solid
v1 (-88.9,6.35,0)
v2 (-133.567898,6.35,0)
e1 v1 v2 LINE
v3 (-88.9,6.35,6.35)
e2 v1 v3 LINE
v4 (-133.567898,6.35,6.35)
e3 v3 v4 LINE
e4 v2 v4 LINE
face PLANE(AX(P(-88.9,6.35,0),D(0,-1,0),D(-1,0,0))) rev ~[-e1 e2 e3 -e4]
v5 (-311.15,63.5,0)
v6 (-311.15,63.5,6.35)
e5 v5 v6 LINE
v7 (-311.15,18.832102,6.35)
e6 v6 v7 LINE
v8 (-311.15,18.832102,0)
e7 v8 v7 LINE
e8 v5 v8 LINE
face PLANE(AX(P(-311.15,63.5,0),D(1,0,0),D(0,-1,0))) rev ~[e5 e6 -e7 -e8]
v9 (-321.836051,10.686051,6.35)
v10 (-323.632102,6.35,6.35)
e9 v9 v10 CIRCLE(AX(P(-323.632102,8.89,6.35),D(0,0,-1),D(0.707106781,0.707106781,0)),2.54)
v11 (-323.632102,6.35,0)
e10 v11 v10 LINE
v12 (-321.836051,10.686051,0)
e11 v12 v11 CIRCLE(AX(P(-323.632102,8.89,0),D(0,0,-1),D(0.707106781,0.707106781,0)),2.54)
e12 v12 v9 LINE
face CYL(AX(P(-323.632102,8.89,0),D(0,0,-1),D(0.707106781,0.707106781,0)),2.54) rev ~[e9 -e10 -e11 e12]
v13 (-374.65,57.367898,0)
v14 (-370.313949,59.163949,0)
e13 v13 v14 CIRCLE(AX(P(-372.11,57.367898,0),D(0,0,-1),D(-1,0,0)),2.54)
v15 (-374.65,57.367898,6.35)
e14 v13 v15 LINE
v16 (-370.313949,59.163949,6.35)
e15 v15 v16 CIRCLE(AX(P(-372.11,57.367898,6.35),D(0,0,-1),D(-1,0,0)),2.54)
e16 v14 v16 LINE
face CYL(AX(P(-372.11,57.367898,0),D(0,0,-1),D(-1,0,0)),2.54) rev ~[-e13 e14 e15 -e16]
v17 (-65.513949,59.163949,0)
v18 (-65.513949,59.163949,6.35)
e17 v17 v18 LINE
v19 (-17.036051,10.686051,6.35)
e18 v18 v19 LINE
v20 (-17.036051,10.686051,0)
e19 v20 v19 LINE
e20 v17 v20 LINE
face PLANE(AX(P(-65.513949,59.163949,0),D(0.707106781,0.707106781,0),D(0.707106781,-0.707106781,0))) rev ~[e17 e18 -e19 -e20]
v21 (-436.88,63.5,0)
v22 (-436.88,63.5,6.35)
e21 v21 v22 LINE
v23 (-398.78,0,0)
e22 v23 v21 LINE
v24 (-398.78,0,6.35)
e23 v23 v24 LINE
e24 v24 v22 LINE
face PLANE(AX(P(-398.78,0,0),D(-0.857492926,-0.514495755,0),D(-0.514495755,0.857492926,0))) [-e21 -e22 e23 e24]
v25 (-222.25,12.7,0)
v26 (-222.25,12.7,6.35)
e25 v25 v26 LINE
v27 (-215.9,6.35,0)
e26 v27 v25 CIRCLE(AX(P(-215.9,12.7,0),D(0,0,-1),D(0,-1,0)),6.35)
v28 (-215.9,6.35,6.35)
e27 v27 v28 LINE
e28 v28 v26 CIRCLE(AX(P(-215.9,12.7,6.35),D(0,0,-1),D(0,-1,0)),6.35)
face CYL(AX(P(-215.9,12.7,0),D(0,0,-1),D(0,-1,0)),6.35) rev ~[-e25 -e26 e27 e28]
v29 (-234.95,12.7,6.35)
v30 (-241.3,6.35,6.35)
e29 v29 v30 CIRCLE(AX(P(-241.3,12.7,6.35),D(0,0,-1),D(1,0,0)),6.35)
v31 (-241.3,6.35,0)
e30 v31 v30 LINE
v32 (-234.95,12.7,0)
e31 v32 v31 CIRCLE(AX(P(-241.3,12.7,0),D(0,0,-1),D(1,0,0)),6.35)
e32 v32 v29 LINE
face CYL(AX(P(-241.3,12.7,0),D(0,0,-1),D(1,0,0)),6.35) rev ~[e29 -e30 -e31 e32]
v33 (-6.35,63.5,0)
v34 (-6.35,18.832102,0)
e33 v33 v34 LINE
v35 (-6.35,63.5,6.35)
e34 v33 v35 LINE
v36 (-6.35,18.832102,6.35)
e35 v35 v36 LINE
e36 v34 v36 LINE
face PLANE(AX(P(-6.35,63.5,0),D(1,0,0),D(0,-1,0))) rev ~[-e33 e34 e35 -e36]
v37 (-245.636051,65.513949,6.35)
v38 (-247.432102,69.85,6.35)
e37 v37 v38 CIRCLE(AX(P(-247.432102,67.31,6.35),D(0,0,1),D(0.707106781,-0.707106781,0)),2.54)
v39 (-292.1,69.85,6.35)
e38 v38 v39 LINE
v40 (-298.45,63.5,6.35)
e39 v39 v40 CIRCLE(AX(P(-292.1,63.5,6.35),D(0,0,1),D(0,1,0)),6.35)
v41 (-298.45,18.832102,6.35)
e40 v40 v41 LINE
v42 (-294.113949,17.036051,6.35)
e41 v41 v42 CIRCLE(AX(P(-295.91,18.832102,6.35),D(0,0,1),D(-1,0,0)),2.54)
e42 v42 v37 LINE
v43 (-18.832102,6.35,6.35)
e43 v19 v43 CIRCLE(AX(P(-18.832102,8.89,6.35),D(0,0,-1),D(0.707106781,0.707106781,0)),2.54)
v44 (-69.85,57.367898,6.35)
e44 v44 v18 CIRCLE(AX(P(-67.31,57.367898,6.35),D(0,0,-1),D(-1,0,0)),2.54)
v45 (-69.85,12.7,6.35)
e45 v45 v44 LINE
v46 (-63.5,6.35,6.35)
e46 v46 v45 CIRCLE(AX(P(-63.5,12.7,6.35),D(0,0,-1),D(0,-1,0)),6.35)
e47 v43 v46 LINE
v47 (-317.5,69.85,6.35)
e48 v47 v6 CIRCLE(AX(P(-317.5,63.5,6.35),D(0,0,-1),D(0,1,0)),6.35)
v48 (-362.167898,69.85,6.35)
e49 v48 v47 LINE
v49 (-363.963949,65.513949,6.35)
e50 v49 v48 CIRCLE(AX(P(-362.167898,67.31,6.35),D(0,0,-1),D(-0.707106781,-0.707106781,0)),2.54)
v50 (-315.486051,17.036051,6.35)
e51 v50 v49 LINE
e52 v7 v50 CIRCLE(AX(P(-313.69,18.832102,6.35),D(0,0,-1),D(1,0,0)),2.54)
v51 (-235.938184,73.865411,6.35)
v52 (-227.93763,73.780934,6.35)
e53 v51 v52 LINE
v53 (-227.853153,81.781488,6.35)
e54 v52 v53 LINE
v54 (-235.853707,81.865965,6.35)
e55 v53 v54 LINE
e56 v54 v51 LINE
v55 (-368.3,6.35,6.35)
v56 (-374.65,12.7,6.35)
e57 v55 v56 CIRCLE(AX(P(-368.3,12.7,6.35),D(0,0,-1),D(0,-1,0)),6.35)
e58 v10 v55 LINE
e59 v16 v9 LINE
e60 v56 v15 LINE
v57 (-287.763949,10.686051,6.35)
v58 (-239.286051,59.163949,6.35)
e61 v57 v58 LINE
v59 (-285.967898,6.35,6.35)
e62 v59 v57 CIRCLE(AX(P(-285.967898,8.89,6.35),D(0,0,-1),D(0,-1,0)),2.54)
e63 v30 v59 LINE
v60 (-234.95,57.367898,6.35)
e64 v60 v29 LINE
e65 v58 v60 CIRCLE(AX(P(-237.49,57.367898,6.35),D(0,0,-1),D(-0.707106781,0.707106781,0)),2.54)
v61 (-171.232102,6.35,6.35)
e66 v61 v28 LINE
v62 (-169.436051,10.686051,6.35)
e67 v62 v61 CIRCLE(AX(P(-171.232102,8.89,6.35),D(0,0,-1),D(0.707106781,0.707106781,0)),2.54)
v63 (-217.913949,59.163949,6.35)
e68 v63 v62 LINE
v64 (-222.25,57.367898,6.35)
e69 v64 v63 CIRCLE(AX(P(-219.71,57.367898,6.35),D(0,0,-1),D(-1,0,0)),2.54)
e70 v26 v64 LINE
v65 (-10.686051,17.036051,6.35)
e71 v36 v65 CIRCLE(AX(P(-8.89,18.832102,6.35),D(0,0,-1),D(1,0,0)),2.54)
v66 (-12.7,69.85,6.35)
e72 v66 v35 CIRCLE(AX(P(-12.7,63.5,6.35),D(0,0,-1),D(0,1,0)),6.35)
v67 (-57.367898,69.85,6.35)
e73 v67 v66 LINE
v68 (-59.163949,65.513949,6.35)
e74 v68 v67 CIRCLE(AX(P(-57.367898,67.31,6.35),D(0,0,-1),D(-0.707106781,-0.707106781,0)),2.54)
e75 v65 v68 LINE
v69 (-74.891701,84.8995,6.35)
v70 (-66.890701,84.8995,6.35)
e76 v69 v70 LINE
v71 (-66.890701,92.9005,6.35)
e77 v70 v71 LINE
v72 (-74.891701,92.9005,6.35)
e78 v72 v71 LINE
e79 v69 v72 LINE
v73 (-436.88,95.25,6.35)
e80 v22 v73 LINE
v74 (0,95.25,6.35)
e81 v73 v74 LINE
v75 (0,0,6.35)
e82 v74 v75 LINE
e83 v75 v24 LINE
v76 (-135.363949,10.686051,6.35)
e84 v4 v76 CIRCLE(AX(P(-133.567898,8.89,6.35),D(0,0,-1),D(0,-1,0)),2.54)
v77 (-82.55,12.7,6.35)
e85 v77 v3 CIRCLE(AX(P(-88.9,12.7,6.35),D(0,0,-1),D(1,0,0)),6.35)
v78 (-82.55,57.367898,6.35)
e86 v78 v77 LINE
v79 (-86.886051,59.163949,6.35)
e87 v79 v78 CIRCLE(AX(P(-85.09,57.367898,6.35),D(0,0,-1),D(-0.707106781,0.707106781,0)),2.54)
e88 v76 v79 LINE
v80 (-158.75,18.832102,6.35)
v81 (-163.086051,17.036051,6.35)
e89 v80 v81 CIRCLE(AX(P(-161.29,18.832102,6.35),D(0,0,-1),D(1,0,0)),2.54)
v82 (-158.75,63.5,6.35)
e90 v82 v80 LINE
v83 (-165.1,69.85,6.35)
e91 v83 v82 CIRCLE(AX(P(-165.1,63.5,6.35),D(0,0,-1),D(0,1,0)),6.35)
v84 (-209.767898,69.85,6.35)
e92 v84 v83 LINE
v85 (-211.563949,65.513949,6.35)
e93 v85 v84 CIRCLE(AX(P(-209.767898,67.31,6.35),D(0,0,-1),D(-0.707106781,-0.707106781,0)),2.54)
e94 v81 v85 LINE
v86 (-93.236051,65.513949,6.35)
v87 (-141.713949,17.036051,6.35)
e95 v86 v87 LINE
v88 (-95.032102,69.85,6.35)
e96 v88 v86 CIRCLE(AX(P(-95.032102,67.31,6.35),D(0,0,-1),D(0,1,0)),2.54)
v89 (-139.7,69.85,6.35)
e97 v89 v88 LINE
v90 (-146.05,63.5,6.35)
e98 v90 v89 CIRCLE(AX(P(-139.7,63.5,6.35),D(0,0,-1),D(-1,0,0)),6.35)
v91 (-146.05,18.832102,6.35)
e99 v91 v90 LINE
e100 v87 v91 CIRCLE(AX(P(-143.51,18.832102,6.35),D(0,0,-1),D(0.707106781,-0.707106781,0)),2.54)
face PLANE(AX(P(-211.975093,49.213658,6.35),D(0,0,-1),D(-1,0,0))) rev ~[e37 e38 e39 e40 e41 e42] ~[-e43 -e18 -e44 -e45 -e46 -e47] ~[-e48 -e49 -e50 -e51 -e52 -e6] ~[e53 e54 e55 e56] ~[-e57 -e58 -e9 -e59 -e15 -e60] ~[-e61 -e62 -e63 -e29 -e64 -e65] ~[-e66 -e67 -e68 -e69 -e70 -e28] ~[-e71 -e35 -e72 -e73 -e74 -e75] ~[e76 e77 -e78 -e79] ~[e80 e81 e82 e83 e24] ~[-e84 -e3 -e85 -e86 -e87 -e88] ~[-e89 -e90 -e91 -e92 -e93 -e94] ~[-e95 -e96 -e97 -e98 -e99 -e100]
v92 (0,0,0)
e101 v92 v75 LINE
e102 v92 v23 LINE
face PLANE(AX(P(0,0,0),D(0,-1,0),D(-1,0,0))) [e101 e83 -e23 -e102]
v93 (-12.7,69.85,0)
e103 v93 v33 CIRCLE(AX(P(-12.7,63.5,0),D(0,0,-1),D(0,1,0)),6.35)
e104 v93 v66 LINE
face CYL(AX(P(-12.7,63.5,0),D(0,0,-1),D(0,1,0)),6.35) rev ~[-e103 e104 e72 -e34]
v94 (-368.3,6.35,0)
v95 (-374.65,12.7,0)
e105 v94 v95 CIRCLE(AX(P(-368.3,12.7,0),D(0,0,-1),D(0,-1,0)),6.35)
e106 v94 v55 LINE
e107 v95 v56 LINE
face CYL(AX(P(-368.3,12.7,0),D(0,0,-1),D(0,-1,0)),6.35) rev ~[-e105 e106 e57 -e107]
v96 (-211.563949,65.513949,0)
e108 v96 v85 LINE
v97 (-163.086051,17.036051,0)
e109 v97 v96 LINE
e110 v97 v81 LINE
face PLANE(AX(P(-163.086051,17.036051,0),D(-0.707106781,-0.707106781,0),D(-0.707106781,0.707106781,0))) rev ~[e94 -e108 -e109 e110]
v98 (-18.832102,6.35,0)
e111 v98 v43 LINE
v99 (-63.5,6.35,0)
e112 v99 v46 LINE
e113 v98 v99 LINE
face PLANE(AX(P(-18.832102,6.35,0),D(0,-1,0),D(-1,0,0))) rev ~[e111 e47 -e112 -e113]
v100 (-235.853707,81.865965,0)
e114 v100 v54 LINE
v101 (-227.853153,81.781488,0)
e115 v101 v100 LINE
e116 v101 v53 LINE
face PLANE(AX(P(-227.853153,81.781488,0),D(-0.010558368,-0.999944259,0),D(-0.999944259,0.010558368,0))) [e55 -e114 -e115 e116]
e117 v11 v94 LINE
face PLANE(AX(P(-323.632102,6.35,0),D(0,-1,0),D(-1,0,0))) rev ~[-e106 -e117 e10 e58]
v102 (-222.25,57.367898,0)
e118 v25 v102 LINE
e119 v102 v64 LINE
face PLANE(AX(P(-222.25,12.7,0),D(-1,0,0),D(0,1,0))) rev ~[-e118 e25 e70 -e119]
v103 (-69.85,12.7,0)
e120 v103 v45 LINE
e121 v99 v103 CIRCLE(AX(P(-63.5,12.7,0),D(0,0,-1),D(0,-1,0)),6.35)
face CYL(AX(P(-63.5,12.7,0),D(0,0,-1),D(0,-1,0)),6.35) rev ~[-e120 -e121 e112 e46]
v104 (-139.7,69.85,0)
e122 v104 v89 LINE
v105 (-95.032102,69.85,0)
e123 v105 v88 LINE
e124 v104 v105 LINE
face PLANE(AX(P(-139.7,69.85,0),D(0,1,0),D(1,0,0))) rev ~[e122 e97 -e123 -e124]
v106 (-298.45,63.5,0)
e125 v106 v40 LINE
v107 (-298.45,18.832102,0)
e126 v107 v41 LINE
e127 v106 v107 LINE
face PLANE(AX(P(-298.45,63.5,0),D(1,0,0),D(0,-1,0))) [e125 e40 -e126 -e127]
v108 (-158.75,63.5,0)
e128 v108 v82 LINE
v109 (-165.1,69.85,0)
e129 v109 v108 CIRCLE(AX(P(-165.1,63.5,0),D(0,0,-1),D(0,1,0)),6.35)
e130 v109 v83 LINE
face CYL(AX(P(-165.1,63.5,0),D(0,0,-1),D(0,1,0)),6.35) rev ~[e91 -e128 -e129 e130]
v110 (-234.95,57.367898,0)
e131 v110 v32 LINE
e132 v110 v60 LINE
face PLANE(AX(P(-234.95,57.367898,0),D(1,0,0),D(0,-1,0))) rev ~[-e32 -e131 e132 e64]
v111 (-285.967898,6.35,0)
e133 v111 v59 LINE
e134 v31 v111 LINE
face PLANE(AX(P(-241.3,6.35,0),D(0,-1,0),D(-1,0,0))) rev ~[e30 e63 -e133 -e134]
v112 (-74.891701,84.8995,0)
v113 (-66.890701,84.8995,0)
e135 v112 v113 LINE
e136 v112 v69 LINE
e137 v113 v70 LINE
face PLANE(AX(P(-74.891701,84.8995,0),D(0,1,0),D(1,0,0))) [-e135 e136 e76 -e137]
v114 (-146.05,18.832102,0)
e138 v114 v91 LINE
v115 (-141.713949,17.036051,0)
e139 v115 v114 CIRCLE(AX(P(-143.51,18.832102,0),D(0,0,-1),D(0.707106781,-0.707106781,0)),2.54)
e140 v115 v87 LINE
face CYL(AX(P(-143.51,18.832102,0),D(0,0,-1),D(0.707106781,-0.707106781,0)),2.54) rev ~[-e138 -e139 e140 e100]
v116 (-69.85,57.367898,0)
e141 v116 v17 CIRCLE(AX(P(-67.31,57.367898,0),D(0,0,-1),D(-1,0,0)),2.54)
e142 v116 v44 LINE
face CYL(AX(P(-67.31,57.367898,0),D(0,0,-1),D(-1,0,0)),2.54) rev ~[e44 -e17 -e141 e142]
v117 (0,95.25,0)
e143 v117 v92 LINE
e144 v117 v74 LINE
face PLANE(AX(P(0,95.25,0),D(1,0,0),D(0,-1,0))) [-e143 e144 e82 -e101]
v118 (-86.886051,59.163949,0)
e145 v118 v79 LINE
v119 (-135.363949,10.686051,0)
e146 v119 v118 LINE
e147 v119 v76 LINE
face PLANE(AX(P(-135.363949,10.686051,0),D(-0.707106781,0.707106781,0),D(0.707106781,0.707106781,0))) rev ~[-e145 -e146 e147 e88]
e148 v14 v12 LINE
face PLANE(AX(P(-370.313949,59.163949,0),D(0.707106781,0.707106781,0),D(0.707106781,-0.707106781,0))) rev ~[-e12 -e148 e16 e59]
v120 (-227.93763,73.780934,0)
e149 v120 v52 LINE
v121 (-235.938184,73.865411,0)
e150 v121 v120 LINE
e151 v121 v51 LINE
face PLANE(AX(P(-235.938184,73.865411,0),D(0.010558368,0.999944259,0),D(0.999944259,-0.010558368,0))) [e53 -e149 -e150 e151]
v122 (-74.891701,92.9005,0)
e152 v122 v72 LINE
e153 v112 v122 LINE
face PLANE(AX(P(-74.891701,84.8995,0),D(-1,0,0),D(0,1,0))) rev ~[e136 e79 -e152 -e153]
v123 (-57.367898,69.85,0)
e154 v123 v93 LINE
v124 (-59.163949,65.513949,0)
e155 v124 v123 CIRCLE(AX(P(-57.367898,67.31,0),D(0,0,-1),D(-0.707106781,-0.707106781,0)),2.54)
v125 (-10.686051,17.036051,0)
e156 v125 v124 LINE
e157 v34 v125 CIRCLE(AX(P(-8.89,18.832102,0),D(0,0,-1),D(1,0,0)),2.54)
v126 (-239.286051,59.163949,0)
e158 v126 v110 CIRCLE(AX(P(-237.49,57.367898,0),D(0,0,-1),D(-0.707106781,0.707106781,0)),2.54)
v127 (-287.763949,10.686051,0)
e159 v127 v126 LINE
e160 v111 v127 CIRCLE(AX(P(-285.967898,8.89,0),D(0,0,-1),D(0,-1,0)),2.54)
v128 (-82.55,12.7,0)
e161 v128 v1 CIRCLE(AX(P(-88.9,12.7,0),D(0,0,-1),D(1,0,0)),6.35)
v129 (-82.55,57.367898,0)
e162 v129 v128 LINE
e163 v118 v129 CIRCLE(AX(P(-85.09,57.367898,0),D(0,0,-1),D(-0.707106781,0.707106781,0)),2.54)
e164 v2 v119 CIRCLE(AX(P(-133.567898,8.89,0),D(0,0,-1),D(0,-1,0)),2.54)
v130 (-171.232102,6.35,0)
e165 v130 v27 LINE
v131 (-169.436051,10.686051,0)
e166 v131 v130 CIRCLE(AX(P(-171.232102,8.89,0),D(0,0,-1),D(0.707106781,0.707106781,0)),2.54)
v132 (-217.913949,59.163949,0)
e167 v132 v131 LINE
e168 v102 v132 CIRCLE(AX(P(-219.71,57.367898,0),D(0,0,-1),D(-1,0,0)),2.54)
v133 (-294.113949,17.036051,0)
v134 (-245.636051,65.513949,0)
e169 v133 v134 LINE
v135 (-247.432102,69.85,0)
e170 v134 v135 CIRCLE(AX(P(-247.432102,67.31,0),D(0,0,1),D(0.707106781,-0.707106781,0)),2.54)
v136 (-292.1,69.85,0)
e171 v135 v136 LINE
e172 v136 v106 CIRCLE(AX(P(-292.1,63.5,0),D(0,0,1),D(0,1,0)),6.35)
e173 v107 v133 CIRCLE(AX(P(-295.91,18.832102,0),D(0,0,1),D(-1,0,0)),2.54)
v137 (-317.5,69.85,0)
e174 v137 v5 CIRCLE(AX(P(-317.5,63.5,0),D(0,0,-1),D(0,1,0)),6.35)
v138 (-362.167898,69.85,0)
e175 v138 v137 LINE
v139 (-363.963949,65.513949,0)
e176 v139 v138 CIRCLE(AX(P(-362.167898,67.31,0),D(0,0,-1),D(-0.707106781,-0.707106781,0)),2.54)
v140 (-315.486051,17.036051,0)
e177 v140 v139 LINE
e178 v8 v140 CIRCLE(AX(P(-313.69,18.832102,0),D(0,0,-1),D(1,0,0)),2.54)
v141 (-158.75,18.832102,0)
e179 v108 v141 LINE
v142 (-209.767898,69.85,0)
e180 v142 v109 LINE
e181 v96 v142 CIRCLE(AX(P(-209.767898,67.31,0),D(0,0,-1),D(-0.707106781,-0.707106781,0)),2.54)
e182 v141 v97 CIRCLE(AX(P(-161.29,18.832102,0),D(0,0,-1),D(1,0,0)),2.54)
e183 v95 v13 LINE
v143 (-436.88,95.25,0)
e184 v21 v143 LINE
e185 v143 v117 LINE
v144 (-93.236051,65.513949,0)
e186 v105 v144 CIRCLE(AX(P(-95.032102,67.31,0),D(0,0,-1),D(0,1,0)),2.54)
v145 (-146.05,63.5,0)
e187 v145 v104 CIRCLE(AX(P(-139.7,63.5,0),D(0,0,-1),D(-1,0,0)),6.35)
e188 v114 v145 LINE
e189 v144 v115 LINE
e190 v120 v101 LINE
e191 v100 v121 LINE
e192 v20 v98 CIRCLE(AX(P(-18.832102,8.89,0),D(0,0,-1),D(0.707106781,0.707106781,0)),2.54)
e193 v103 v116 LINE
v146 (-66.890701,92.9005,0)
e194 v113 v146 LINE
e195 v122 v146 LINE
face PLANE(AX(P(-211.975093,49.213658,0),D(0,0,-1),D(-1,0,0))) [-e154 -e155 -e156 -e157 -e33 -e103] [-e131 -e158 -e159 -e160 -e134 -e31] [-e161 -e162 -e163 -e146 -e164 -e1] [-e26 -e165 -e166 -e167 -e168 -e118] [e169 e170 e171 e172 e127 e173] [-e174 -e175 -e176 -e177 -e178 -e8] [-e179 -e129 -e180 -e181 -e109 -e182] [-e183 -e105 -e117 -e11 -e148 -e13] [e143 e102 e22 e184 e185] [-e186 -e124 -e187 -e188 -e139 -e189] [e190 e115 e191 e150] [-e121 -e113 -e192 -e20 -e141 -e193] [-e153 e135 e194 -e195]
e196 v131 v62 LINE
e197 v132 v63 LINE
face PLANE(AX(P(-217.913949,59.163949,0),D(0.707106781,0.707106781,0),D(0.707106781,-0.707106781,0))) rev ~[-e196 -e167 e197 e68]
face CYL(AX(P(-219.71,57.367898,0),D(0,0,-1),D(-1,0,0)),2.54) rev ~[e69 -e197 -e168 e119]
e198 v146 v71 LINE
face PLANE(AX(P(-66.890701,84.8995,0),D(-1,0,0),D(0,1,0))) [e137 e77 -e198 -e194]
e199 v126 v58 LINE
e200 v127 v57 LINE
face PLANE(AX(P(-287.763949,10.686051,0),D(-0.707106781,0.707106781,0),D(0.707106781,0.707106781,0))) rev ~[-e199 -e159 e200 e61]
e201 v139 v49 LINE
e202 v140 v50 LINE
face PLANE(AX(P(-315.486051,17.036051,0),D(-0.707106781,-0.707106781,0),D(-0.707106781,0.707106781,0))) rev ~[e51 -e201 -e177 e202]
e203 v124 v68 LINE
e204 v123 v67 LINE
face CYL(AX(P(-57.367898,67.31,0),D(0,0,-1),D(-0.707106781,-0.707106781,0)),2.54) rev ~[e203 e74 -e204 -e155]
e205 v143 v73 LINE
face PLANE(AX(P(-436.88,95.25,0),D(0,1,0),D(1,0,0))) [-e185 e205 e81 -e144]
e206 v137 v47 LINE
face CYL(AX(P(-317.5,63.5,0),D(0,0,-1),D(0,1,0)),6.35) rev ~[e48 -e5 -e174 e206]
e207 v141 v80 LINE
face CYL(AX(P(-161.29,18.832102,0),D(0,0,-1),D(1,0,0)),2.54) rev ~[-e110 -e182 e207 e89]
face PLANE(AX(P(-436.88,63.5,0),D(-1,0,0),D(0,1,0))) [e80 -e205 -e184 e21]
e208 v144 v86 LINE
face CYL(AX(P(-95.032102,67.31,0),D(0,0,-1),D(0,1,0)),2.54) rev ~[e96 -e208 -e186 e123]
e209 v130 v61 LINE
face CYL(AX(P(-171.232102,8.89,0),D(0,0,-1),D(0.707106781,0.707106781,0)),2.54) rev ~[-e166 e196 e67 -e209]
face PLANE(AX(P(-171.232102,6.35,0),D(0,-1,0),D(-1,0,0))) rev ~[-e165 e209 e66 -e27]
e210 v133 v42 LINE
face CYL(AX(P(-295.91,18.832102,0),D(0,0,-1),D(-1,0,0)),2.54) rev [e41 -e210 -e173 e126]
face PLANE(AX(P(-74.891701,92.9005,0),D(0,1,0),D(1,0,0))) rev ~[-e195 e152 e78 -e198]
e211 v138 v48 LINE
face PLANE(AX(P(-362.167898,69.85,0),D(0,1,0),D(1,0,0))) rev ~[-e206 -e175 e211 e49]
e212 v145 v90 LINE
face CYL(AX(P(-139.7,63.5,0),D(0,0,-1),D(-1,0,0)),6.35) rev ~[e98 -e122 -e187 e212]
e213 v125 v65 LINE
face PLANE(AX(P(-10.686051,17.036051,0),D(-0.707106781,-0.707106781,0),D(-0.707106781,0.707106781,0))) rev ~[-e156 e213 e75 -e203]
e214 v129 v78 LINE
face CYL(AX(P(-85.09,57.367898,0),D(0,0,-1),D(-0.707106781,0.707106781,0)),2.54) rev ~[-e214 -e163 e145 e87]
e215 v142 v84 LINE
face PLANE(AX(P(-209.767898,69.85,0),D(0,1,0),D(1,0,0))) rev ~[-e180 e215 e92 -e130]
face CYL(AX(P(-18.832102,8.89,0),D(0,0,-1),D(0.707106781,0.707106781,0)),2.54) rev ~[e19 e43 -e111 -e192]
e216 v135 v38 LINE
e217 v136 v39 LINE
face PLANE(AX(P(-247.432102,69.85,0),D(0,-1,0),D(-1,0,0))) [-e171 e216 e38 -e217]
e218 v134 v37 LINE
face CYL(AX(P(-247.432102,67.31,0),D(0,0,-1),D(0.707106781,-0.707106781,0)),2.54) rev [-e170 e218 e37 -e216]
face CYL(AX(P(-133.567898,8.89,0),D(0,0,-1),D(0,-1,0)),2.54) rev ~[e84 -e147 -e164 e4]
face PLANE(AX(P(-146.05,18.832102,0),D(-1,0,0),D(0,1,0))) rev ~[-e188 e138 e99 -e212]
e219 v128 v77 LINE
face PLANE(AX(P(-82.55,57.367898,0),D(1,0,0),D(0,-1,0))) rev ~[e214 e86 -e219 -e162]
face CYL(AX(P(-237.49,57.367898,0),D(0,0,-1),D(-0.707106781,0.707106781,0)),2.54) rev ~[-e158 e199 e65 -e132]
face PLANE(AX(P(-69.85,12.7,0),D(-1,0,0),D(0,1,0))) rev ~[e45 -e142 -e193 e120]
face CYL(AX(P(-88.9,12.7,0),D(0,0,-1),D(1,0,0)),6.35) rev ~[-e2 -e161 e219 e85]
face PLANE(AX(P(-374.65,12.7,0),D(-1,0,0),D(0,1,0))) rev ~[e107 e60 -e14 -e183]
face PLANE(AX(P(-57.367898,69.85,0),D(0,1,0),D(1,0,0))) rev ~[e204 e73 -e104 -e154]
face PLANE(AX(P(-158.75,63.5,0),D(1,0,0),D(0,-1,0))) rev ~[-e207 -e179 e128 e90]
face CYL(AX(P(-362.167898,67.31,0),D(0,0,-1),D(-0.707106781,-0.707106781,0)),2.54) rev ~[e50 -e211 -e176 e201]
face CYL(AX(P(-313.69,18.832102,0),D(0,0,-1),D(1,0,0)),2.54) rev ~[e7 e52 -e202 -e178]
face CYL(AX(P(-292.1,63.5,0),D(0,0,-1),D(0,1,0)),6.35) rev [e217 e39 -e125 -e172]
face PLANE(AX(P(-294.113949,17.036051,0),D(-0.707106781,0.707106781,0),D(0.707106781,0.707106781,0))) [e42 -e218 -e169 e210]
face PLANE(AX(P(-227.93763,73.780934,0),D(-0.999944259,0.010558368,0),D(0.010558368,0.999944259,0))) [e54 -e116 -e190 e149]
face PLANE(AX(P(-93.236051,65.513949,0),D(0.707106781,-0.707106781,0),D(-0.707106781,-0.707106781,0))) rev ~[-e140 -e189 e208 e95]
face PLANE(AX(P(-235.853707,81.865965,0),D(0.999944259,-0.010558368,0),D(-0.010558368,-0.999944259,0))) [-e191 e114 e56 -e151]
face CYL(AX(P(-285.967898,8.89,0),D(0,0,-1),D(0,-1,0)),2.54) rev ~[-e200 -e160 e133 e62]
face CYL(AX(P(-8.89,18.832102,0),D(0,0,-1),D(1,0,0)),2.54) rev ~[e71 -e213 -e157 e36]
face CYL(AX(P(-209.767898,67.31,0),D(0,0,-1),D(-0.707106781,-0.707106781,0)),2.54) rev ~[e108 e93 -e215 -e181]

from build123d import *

# Parameters (mm, degrees)
MODEL_W             = 8.001
MODEL_H             = 8.001
BOSS_EXTRUDE1_DEPTH = 6.35


with BuildPart() as part:
    # Model → Boss-Extrude1 (new body)
    with BuildSketch(Plane.XY):
        Polygon((-398.78, 0), (-436.88, 63.5), (-436.88, 95.25), (0, 95.25), (0, 0), align=None)
        with Locations((-70.891200524, 88.9)):
            Rectangle(MODEL_W, MODEL_H, mode=Mode.SUBTRACT)
        Polygon((-235.938184475, 73.86541105), (-227.937630461, 73.78093355), (-227.853152962, 81.781487564), (-235.853706976, 81.865965064), align=None, mode=Mode.SUBTRACT)
        with BuildLine():
            Line((-171.232102448, 6.35), (-215.9, 6.35))
            ThreePointArc((-215.9, 6.35), (-220.390128061, 8.209871939), (-222.25, 12.7))
            Line((-222.25, 12.7), (-222.25, 57.367897552))
            ThreePointArc((-222.25, 57.367897552), (-220.682015918, 59.714551564), (-217.913948776, 59.163948776))
            Line((-217.913948776, 59.163948776), (-169.436051224, 10.686051224))
            ThreePointArc((-169.436051224, 10.686051224), (-168.885448436, 7.917984082), (-171.232102448, 6.35))
        make_face(mode=Mode.SUBTRACT)
        with BuildLine():
            Line((-234.95, 57.367897552), (-234.95, 12.7))
            ThreePointArc((-234.95, 12.7), (-236.809871939, 8.209871939), (-241.3, 6.35))
            Line((-241.3, 6.35), (-285.967897552, 6.35))
            ThreePointArc((-285.967897552, 6.35), (-288.314551564, 7.917984082), (-287.763948776, 10.686051224))
            Line((-287.763948776, 10.686051224), (-239.286051224, 59.163948776))
            ThreePointArc((-239.286051224, 59.163948776), (-236.517984082, 59.714551564), (-234.95, 57.367897552))
        make_face(mode=Mode.SUBTRACT)
        with BuildLine():
            Line((-294.113948776, 17.036051224), (-245.636051224, 65.513948776))
            ThreePointArc((-245.636051224, 65.513948776), (-245.085448436, 68.282015918), (-247.432102448, 69.85))
            Line((-247.432102448, 69.85), (-292.1, 69.85))
            ThreePointArc((-292.1, 69.85), (-296.590128061, 67.990128061), (-298.45, 63.5))
            Line((-298.45, 63.5), (-298.45, 18.832102448))
            ThreePointArc((-298.45, 18.832102448), (-296.882015918, 16.485448436), (-294.113948776, 17.036051224))
        make_face(mode=Mode.SUBTRACT)
        with BuildLine():
            Line((-323.632102448, 6.35), (-368.3, 6.35))
            ThreePointArc((-368.3, 6.35), (-372.790128061, 8.209871939), (-374.65, 12.7))
            Line((-374.65, 12.7), (-374.65, 57.367897552))
            ThreePointArc((-374.65, 57.367897552), (-373.082015918, 59.714551564), (-370.313948776, 59.163948776))
            Line((-370.313948776, 59.163948776), (-321.836051224, 10.686051224))
            ThreePointArc((-321.836051224, 10.686051224), (-321.285448436, 7.917984082), (-323.632102448, 6.35))
        make_face(mode=Mode.SUBTRACT)
        with BuildLine():
            Line((-18.832102448, 6.35), (-63.5, 6.35))
            ThreePointArc((-63.5, 6.35), (-67.990128061, 8.209871939), (-69.85, 12.7))
            Line((-69.85, 12.7), (-69.85, 57.367897552))
            ThreePointArc((-69.85, 57.367897552), (-68.282015918, 59.714551564), (-65.513948776, 59.163948776))
            Line((-65.513948776, 59.163948776), (-17.036051224, 10.686051224))
            ThreePointArc((-17.036051224, 10.686051224), (-16.485448436, 7.917984082), (-18.832102448, 6.35))
        make_face(mode=Mode.SUBTRACT)
        with BuildLine():
            Line((-82.55, 57.367897552), (-82.55, 12.7))
            ThreePointArc((-82.55, 12.7), (-84.409871939, 8.209871939), (-88.9, 6.35))
            Line((-88.9, 6.35), (-133.567897552, 6.35))
            ThreePointArc((-133.567897552, 6.35), (-135.914551564, 7.917984082), (-135.363948776, 10.686051224))
            Line((-135.363948776, 10.686051224), (-86.886051224, 59.163948776))
            ThreePointArc((-86.886051224, 59.163948776), (-84.117984082, 59.714551564), (-82.55, 57.367897552))
        make_face(mode=Mode.SUBTRACT)
        with BuildLine():
            Line((-93.236051224, 65.513948776), (-141.713948776, 17.036051224))
            ThreePointArc((-141.713948776, 17.036051224), (-144.482015918, 16.485448436), (-146.05, 18.832102448))
            Line((-146.05, 18.832102448), (-146.05, 63.5))
            ThreePointArc((-146.05, 63.5), (-144.190128061, 67.990128061), (-139.7, 69.85))
            Line((-139.7, 69.85), (-95.032102448, 69.85))
            ThreePointArc((-95.032102448, 69.85), (-92.685448436, 68.282015918), (-93.236051224, 65.513948776))
        make_face(mode=Mode.SUBTRACT)
        with BuildLine():
            Line((-163.086051224, 17.036051224), (-211.563948776, 65.513948776))
            ThreePointArc((-211.563948776, 65.513948776), (-212.114551564, 68.282015918), (-209.767897552, 69.85))
            Line((-209.767897552, 69.85), (-165.1, 69.85))
            ThreePointArc((-165.1, 69.85), (-160.609871939, 67.990128061), (-158.75, 63.5))
            Line((-158.75, 63.5), (-158.75, 18.832102448))
            ThreePointArc((-158.75, 18.832102448), (-160.317984082, 16.485448436), (-163.086051224, 17.036051224))
        make_face(mode=Mode.SUBTRACT)
        with BuildLine():
            Line((-315.486051224, 17.036051224), (-363.963948776, 65.513948776))
            ThreePointArc((-363.963948776, 65.513948776), (-364.514551564, 68.282015918), (-362.167897552, 69.85))
            Line((-362.167897552, 69.85), (-317.5, 69.85))
            ThreePointArc((-317.5, 69.85), (-313.009871939, 67.990128061), (-311.15, 63.5))
            Line((-311.15, 63.5), (-311.15, 18.832102448))
            ThreePointArc((-311.15, 18.832102448), (-312.717984082, 16.485448436), (-315.486051224, 17.036051224))
        make_face(mode=Mode.SUBTRACT)
        with BuildLine():
            Line((-6.35, 63.5), (-6.35, 18.832102448))
            ThreePointArc((-6.35, 18.832102448), (-7.917984082, 16.485448436), (-10.686051224, 17.036051224))
            Line((-10.686051224, 17.036051224), (-59.163948776, 65.513948776))
            ThreePointArc((-59.163948776, 65.513948776), (-59.714551564, 68.282015918), (-57.367897552, 69.85))
            Line((-57.367897552, 69.85), (-12.7, 69.85))
            ThreePointArc((-12.7, 69.85), (-8.209871939, 67.990128061), (-6.35, 63.5))
        make_face(mode=Mode.SUBTRACT)
    extrude(amount=BOSS_EXTRUDE1_DEPTH)


solid = part.part
